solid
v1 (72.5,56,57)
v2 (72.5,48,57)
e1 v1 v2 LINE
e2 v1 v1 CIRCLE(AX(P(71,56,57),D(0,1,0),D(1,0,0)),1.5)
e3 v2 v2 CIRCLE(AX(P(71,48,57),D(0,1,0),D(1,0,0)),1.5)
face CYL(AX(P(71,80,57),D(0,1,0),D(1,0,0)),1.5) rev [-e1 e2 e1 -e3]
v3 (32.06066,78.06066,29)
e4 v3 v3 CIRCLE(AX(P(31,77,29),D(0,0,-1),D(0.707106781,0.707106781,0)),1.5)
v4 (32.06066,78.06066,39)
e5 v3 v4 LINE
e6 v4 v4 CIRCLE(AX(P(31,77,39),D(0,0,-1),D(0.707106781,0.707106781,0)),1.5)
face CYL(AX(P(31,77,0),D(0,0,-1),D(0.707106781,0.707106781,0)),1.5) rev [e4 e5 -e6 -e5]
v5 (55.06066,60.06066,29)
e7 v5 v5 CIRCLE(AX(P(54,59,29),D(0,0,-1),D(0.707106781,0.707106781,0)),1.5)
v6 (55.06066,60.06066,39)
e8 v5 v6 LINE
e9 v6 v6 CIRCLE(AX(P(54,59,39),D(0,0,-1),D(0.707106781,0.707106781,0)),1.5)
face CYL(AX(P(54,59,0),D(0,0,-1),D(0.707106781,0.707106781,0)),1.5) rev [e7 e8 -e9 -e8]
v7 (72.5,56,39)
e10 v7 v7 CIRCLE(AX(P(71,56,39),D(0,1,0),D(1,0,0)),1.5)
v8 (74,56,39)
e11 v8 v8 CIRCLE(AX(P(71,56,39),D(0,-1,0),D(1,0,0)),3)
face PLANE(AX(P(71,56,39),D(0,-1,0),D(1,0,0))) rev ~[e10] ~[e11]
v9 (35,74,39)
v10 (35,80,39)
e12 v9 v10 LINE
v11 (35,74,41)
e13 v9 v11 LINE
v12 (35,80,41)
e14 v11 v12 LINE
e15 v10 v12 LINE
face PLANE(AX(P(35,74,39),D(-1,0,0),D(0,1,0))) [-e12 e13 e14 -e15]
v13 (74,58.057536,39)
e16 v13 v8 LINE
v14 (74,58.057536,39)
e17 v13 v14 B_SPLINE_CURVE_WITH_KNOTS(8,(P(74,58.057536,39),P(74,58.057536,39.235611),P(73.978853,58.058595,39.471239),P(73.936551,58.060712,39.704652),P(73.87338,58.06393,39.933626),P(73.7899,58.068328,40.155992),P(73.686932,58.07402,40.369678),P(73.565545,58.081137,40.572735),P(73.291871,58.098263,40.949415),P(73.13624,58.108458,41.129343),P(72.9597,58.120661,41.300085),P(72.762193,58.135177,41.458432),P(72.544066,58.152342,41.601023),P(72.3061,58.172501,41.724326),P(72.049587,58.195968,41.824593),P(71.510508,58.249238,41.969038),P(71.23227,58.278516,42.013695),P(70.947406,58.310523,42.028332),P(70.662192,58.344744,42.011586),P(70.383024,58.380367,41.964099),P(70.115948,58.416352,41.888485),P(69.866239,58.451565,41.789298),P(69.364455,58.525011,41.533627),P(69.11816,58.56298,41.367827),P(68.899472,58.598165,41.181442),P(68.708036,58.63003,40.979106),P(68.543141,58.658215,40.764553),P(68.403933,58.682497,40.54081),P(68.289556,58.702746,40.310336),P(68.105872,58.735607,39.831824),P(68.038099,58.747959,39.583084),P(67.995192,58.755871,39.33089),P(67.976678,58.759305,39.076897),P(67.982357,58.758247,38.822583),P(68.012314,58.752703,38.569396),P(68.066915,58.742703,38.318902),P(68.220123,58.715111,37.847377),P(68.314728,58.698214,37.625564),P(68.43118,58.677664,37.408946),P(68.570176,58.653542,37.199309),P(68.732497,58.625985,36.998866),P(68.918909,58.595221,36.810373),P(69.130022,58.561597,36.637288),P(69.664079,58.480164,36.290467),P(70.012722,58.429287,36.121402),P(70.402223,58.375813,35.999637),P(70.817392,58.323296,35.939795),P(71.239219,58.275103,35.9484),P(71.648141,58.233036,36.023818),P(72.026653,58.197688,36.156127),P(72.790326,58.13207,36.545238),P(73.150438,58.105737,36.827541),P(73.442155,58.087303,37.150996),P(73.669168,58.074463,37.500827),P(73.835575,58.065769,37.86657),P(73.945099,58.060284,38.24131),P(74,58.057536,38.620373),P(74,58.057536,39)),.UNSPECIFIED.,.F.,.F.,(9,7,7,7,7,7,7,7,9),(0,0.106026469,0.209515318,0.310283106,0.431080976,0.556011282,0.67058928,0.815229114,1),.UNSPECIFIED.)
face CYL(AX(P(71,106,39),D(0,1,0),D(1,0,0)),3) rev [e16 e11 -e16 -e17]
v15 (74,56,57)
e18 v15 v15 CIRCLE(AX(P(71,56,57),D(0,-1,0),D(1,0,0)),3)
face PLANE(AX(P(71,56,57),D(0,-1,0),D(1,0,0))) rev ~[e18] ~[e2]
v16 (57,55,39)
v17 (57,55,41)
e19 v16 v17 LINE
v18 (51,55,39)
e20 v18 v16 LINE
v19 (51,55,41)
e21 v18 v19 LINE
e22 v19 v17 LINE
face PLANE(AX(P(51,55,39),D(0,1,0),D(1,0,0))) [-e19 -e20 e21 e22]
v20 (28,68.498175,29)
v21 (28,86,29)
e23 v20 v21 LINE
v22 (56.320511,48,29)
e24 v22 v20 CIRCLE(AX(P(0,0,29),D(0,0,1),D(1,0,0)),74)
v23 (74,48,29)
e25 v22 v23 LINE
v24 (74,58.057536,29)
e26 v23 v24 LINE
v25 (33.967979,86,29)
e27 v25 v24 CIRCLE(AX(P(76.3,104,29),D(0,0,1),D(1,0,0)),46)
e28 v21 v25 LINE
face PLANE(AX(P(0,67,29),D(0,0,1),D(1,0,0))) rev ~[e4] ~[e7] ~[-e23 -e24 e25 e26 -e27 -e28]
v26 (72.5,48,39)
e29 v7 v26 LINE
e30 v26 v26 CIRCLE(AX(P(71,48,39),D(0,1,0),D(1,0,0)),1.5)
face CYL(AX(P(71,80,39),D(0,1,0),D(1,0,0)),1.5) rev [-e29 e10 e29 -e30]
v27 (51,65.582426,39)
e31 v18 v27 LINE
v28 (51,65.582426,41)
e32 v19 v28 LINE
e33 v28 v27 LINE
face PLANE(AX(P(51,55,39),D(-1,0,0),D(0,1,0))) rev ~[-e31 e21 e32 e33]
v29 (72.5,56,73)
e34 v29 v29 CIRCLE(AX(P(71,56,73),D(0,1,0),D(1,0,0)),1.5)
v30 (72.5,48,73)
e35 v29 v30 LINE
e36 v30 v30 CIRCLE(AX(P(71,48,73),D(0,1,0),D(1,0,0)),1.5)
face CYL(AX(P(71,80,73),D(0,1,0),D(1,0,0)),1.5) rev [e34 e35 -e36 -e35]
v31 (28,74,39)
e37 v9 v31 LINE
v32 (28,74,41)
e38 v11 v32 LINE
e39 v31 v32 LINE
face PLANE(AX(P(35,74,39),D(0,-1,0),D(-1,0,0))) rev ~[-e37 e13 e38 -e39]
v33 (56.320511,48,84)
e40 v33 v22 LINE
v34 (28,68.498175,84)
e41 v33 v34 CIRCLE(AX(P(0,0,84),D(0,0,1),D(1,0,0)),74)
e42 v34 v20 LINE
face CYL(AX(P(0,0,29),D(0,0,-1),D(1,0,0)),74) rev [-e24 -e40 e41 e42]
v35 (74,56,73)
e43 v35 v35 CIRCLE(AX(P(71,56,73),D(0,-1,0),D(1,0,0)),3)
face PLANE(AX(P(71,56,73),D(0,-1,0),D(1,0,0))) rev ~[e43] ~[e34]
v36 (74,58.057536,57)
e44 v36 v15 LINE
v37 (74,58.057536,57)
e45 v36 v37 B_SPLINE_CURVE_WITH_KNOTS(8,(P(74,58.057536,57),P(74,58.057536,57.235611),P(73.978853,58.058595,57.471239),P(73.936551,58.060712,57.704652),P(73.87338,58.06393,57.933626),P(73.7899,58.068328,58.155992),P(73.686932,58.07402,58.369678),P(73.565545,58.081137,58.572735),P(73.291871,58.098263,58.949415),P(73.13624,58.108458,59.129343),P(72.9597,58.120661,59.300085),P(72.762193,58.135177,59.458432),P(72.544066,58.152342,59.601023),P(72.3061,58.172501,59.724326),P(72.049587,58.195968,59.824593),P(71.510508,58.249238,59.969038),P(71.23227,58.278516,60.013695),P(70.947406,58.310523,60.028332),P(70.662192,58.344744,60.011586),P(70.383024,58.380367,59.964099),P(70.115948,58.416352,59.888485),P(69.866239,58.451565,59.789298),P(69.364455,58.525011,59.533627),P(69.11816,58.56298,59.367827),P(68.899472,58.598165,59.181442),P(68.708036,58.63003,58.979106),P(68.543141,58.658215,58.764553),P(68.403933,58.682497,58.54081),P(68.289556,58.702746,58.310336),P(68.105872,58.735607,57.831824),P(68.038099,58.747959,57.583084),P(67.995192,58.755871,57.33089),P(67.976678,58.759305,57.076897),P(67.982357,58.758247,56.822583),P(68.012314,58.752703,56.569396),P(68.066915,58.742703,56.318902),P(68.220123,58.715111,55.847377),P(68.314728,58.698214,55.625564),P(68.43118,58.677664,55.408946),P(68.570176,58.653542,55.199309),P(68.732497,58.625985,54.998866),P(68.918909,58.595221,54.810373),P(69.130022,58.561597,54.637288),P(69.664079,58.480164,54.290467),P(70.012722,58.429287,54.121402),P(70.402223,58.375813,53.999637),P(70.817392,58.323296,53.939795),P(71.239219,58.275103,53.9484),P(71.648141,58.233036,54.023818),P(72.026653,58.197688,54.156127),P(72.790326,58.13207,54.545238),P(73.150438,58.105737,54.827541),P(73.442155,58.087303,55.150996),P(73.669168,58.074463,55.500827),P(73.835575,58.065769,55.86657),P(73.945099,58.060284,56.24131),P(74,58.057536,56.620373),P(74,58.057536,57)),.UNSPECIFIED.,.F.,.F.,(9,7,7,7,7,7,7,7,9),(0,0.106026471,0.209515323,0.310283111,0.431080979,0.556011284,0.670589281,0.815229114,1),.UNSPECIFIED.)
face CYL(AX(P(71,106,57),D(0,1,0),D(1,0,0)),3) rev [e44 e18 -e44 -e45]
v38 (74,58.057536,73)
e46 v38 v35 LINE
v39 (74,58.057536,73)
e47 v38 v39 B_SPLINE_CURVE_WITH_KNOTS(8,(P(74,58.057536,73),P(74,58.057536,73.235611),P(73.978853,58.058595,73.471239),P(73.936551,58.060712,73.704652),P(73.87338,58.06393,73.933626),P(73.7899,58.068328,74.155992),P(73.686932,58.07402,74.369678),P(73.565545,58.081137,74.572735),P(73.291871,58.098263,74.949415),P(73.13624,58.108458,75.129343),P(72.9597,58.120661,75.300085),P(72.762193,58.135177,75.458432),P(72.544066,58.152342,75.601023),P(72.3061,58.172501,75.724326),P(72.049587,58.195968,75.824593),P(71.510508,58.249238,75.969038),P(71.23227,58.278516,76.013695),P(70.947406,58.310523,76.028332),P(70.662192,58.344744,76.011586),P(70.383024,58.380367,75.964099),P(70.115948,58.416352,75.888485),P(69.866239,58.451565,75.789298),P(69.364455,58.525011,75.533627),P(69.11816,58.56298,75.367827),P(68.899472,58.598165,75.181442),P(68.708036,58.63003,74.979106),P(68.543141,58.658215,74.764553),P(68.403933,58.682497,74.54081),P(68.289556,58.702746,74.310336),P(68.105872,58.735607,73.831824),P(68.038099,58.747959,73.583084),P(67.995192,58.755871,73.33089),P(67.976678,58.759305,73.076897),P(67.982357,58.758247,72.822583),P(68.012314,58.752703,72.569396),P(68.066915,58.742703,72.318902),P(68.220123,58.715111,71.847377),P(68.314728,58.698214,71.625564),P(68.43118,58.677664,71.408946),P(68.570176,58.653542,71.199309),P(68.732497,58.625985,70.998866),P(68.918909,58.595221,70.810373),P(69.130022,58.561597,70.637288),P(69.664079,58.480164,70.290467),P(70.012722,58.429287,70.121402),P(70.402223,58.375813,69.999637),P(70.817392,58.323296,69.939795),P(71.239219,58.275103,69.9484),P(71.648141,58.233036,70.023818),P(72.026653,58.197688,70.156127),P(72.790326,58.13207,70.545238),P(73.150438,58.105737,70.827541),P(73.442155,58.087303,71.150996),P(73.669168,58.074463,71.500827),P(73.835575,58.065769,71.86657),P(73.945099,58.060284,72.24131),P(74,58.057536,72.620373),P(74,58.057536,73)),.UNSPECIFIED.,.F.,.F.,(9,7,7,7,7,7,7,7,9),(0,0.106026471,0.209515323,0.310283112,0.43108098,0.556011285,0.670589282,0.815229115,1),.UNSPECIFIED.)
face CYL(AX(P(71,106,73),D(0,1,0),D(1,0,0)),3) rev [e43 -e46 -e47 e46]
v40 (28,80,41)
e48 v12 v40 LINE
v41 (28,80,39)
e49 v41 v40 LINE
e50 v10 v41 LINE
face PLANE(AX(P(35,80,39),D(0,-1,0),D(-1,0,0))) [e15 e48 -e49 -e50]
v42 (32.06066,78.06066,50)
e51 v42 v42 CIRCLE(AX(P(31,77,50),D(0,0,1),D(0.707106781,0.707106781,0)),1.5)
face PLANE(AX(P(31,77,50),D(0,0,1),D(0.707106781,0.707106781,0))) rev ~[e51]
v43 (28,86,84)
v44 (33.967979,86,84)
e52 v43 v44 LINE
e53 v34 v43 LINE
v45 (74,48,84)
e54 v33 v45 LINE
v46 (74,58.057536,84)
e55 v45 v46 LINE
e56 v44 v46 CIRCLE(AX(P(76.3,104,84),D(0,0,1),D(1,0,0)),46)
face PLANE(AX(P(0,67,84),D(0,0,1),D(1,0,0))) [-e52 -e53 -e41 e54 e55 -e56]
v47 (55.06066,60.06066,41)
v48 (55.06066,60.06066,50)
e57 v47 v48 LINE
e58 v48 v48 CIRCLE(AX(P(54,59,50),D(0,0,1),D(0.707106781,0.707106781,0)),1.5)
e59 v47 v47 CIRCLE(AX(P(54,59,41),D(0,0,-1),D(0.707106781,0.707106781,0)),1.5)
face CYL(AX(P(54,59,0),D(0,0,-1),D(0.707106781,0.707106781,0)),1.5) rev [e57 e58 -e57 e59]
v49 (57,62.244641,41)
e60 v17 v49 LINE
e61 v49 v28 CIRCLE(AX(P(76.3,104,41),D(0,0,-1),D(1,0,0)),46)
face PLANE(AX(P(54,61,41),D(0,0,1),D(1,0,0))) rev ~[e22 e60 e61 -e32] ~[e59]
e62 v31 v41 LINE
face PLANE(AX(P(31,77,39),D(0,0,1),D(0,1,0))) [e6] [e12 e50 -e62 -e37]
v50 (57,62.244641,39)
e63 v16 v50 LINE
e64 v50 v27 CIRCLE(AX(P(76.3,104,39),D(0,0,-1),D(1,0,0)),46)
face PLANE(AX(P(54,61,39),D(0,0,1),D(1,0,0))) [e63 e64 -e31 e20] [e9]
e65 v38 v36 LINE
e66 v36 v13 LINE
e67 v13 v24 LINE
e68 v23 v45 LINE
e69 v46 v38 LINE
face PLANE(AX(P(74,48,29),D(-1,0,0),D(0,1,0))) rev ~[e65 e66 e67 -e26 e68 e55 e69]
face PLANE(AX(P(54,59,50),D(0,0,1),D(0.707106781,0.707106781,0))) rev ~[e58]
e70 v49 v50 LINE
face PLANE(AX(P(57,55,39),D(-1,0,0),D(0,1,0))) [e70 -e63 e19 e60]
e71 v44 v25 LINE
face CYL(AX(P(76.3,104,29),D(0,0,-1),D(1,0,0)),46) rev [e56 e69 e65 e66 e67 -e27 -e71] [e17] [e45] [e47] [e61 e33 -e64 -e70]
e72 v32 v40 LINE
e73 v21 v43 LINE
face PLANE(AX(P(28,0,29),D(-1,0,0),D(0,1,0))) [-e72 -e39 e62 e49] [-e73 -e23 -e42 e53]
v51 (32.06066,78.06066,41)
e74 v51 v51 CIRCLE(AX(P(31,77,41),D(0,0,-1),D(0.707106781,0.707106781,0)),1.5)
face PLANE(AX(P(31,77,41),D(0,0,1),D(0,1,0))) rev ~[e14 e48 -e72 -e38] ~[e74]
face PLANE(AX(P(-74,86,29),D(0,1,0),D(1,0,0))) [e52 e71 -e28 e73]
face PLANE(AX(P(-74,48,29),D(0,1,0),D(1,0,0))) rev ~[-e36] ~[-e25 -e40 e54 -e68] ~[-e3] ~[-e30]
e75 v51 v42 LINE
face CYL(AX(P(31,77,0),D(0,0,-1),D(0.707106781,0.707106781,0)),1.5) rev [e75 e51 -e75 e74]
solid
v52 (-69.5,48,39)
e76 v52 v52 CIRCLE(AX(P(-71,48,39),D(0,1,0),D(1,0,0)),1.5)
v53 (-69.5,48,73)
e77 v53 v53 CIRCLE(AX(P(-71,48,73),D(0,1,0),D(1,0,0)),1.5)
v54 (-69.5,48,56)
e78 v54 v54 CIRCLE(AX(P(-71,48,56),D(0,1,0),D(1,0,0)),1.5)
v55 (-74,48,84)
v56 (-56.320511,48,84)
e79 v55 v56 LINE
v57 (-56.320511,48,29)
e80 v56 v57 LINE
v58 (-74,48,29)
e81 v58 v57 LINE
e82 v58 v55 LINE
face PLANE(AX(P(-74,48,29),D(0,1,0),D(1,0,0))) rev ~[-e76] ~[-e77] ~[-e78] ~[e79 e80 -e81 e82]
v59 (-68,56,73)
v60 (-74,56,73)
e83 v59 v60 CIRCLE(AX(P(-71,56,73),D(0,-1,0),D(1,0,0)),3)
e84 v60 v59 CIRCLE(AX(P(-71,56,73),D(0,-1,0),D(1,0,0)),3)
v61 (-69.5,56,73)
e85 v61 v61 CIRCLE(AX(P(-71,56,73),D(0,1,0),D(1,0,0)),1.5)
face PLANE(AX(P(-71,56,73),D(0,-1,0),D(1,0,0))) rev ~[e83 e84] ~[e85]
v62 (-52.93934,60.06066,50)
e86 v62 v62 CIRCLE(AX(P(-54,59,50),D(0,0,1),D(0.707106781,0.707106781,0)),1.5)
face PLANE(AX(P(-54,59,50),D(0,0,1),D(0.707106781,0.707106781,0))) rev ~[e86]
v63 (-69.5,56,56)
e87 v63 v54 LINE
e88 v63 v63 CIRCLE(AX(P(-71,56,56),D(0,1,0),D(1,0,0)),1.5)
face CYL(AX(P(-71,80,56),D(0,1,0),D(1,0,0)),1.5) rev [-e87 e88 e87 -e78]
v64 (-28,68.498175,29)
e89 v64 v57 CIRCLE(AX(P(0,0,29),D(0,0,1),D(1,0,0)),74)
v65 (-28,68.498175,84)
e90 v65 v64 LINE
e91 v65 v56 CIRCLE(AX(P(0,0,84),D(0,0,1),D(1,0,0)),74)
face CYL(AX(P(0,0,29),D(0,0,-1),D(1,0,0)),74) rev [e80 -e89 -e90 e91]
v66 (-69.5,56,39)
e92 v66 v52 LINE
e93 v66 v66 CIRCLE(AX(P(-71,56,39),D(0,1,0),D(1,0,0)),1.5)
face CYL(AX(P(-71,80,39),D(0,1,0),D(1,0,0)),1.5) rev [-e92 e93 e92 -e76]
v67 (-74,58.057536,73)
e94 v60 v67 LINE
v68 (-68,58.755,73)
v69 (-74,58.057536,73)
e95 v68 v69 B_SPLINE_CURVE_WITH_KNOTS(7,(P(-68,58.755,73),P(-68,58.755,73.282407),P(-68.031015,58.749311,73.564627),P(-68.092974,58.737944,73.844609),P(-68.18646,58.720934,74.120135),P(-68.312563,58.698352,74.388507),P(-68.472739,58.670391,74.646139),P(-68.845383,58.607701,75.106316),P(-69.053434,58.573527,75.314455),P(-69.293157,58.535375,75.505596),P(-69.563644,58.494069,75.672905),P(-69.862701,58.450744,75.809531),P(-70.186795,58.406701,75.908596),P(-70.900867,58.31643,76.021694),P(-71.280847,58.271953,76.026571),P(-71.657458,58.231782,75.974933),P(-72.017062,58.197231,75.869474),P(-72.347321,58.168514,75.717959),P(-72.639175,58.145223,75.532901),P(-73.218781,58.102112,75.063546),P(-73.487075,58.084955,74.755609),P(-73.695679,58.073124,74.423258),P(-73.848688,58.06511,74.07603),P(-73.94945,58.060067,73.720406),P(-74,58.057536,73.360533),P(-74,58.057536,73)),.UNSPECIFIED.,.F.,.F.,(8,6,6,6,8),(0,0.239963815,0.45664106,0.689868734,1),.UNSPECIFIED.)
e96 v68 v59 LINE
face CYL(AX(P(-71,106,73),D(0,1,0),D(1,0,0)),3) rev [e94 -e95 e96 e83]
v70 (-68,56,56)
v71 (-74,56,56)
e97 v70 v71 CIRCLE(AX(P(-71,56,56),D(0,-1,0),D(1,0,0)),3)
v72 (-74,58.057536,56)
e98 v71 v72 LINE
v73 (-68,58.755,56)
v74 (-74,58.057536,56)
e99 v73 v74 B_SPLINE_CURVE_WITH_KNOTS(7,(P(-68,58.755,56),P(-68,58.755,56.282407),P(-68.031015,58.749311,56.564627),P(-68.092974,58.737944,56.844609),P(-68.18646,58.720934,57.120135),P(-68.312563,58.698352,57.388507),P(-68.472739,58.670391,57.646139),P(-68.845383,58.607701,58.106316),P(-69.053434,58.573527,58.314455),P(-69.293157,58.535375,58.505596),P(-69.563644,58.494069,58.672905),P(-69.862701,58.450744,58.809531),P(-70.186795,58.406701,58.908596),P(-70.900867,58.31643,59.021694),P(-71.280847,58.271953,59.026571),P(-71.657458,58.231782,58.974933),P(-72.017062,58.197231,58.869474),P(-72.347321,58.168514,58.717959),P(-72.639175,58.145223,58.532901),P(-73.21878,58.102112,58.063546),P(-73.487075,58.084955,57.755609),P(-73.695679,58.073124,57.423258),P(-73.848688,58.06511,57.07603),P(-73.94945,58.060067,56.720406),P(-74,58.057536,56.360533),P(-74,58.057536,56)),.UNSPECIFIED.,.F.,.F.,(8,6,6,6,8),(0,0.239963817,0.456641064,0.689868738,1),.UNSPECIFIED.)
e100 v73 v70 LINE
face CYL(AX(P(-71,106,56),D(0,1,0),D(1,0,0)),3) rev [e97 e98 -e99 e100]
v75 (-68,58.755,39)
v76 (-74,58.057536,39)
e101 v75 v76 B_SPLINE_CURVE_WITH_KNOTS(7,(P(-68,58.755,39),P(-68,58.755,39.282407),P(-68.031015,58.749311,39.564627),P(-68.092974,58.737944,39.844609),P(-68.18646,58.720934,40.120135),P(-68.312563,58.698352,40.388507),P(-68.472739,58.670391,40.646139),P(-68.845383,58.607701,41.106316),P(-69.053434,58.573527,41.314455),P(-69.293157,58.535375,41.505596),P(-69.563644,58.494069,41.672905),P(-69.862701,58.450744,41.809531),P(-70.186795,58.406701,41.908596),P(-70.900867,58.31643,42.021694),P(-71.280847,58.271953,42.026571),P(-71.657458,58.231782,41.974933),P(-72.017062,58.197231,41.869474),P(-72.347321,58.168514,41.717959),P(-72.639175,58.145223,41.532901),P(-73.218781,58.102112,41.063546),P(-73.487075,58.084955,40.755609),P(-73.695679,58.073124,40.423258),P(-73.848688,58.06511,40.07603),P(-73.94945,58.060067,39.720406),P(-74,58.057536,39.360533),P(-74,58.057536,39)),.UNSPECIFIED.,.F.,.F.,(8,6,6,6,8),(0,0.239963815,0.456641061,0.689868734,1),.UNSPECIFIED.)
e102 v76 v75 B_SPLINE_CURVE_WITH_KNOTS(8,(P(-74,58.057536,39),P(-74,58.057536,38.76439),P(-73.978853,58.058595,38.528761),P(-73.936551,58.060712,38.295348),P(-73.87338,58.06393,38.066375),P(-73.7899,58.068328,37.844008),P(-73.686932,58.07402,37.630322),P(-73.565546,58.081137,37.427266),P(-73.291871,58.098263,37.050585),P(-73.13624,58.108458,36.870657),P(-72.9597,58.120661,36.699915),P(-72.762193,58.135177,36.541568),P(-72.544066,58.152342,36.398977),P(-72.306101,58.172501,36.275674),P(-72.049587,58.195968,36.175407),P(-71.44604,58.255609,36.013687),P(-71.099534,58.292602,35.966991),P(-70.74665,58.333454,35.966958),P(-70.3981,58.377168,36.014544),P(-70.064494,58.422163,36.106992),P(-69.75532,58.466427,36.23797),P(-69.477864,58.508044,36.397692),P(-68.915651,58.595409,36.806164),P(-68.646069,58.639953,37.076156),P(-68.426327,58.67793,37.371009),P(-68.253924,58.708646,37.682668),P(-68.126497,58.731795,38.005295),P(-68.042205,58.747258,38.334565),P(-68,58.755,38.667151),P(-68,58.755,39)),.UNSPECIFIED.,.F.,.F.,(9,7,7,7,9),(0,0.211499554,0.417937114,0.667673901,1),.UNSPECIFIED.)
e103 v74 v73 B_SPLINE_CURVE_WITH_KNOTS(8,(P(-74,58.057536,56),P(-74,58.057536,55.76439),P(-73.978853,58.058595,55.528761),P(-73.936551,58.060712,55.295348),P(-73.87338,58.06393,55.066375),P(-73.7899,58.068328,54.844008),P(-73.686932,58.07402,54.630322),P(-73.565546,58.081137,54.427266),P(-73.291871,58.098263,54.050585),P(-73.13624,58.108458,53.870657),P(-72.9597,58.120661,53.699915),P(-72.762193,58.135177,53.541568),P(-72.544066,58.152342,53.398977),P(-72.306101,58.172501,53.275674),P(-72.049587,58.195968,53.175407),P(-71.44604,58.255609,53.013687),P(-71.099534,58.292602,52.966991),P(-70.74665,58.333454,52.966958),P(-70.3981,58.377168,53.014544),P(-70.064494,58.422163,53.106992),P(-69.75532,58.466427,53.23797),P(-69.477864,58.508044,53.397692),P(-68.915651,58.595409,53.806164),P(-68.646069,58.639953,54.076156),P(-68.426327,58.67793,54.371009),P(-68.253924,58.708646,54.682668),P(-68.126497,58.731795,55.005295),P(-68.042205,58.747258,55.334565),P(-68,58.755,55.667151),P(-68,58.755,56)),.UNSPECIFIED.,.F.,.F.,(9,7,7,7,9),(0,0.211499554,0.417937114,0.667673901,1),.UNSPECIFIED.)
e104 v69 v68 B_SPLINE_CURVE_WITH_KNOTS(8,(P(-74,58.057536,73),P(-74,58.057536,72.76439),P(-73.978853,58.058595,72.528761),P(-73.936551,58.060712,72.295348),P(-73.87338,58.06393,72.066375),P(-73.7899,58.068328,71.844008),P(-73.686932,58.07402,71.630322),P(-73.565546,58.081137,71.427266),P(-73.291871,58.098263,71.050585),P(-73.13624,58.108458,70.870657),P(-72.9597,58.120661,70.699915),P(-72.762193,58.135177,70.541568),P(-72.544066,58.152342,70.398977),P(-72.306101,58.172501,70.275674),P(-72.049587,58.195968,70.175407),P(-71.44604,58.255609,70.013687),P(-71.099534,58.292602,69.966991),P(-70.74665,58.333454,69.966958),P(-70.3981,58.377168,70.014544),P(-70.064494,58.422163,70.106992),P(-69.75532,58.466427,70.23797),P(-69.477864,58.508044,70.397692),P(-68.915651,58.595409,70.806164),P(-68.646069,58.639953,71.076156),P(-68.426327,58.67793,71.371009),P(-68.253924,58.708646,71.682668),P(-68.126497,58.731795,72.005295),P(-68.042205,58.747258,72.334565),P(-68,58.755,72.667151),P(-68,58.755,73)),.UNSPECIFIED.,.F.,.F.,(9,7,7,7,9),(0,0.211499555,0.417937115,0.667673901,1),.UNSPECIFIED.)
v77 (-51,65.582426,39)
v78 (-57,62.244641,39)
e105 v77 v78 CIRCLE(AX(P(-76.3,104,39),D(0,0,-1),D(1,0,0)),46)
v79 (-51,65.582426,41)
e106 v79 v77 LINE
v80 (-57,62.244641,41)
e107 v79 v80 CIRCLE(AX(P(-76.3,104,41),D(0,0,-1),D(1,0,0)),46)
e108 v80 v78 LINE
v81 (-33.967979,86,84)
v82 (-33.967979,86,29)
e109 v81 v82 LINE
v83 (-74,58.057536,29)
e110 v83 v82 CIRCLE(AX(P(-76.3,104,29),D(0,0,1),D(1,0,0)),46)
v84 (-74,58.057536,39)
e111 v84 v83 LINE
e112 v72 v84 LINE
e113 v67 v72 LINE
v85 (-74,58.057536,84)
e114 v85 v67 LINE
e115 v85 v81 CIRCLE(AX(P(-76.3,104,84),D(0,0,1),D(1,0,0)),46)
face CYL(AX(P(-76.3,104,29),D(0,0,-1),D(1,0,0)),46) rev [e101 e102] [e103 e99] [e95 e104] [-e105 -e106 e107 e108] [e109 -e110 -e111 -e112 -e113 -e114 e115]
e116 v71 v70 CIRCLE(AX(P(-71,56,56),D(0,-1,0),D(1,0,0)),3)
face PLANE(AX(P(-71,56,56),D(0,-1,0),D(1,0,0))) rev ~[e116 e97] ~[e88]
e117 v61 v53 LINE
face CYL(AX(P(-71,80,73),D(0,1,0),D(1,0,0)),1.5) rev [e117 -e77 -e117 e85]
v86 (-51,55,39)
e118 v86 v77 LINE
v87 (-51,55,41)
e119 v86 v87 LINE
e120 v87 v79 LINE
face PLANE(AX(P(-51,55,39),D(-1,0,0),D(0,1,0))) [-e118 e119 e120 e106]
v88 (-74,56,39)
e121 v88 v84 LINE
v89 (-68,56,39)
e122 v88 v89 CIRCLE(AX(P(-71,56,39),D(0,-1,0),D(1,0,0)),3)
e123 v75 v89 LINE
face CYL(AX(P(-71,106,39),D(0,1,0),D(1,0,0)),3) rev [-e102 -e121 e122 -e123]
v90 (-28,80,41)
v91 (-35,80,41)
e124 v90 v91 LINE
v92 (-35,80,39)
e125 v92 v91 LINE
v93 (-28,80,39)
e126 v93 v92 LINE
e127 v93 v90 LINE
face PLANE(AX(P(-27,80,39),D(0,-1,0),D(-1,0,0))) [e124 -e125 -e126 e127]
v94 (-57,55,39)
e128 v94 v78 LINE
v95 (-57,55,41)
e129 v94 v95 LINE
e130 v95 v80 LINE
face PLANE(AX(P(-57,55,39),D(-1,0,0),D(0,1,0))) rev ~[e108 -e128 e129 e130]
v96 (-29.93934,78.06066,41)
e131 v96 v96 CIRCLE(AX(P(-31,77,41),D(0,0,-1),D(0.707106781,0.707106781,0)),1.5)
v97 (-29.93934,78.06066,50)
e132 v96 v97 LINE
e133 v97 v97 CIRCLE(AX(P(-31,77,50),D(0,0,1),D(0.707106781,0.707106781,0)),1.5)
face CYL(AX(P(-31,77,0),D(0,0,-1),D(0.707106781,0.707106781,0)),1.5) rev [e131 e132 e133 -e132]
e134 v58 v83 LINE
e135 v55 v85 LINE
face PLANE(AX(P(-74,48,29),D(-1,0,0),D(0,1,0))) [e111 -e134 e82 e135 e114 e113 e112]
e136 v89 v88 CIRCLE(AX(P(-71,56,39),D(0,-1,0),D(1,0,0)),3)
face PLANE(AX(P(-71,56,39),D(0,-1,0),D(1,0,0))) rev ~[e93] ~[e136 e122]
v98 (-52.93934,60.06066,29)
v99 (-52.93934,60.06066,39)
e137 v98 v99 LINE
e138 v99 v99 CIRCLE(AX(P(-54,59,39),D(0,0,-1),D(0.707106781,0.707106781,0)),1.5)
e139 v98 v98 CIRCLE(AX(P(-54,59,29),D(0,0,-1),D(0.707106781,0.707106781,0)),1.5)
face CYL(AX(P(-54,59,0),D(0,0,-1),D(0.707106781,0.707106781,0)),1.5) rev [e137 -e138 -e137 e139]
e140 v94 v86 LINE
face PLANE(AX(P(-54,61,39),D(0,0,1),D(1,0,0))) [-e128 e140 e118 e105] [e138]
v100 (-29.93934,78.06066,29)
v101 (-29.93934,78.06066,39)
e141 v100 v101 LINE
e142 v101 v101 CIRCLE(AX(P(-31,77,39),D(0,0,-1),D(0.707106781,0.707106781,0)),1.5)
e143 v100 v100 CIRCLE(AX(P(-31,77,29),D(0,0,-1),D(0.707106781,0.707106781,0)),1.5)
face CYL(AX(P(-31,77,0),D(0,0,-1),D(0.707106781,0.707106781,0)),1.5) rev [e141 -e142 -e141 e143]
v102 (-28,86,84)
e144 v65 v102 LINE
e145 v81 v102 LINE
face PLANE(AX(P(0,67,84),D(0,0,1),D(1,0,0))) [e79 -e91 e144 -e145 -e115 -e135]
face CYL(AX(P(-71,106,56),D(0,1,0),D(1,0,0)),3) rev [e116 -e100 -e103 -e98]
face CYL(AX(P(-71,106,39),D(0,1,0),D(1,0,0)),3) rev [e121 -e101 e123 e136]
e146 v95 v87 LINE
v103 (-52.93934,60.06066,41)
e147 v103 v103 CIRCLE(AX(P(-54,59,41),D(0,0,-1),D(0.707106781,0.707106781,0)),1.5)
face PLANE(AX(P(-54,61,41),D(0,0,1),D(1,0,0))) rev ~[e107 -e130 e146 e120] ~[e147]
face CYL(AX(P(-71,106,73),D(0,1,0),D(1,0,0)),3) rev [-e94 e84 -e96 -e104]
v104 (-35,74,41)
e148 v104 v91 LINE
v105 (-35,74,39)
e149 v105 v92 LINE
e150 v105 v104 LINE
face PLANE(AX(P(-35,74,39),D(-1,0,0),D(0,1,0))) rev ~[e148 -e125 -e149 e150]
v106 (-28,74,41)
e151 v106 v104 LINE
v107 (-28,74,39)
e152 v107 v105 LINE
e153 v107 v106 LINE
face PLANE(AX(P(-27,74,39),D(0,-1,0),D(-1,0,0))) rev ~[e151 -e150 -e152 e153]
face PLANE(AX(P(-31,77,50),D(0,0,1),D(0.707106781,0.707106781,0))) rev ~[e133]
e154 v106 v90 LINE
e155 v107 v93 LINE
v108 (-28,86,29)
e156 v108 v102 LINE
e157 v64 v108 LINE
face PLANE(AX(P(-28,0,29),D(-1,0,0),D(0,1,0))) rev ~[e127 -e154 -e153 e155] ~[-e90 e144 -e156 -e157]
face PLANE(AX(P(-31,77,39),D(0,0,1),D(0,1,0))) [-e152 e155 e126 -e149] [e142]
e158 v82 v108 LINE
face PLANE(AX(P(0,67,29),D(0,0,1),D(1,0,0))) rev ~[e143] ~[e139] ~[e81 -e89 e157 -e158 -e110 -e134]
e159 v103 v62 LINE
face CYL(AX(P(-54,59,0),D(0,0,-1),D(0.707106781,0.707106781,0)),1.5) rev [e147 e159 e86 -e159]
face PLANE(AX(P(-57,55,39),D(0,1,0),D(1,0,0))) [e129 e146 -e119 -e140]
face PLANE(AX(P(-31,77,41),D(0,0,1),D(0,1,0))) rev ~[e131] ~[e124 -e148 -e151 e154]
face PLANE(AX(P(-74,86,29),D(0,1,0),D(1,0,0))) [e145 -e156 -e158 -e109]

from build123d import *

# Parameters (mm, degrees)
CYLINDER1890_R               = 1.5
CYLINDER1890_DEPTH           = 50
CYLINDER1890_PLACEMENT_ANGLE = 45
CYLINDER1889_R               = 1.5
CYLINDER1889_DEPTH           = 50
CYLINDER1889_PLACEMENT_ANGLE = 45
BOX799_W                     = 6
BOX799_H                     = 12
BOX799_DEPTH                 = 2
BOX798_W                     = 6
BOX798_H                     = 12
BOX798_DEPTH                 = 2
CYLINDER1795_R               = 1.5
CYLINDER1795_DEPTH           = 50
CYLINDER1795_PLACEMENT_ANGLE = 45
CYLINDER1794_R               = 1.5
CYLINDER1794_DEPTH           = 50
CYLINDER1794_PLACEMENT_ANGLE = 45
BOX711_W                     = 6
BOX711_H                     = 8
BOX711_DEPTH                 = 2
BOX729_W                     = 6
BOX729_H                     = 8
BOX729_DEPTH                 = 2
CYLINDER1785_R               = 3
CYLINDER1785_DEPTH           = 50
CYLINDER1781_R               = 3
CYLINDER1781_DEPTH           = 50
CYLINDER1783_R               = 3
CYLINDER1783_DEPTH           = 50
CYLINDER1790_R               = 3
CYLINDER1790_DEPTH           = 50
CYLINDER1791_R               = 3
CYLINDER1791_DEPTH           = 50
CYLINDER1782_R               = 3
CYLINDER1782_DEPTH           = 50
CYLINDER1786_R               = 1.5
CYLINDER1786_DEPTH           = 50
CYLINDER1780_R               = 1.5
CYLINDER1780_DEPTH           = 50
CYLINDER1787_R               = 1.5
CYLINDER1787_DEPTH           = 50
CYLINDER1788_R               = 1.5
CYLINDER1788_DEPTH           = 50
CYLINDER1789_R               = 1.5
CYLINDER1789_DEPTH           = 50
CYLINDER1784_R               = 1.5
CYLINDER1784_DEPTH           = 50
CYLINDER1779_R               = 74
CYLINDER1779_DEPTH           = 55
BOX728_W                     = 56
BOX728_H                     = 200
BOX728_DEPTH                 = 55
CYLINDER1778_R               = 46
CYLINDER1778_DEPTH           = 55
CYLINDER1777_R               = 46
CYLINDER1777_DEPTH           = 55
BOX727_W                     = 148
BOX727_H                     = 38
BOX727_DEPTH                 = 55


with BuildPart() as v_lec1890:
    # Cylinder1890 → Cylinder1890 (new body)
    with BuildSketch(Plane.XY):
        Circle(CYLINDER1890_R)
    extrude(amount=CYLINDER1890_DEPTH)


with BuildPart() as v_lec1890_1:
    # Cylinder1890 placement: moved
    add(v_lec1890.part.moved(Location((-54, 59, 0))).rotate(Axis((-54, 59, 0), (0, 0, 1)), CYLINDER1890_PLACEMENT_ANGLE))


with BuildPart() as compound951:
    # Cylinder1889 → Cylinder1889 (new body)
    with BuildSketch(Plane.XY):
        Circle(CYLINDER1889_R)
    extrude(amount=CYLINDER1889_DEPTH)


with BuildPart() as compound951_1:
    # Cylinder1889 placement: moved
    add(compound951.part.moved(Location((54, 59, 0))).rotate(Axis((54, 59, 0), (0, 0, 1)), CYLINDER1889_PLACEMENT_ANGLE))

    # Compound951: union Válec1890
    add(v_lec1890_1.part)


with BuildPart() as krychle799:
    # Box799 → Box799 (new body)
    with BuildSketch(Plane(origin=(51, 56, 29), x_dir=(1, 0, 0), z_dir=(0, 0, 1))):
        with Locations((3, 6)):
            Rectangle(BOX799_W, BOX799_H)
    extrude(amount=BOX799_DEPTH)


with BuildPart() as compound952:
    # Box798 → Box798 (new body)
    with BuildSketch(Plane(origin=(-57, 56, 29), x_dir=(1, 0, 0), z_dir=(0, 0, 1))):
        with Locations((3, 6)):
            Rectangle(BOX798_W, BOX798_H)
    extrude(amount=BOX798_DEPTH)

    # Compound952: union Krychle799
    add(krychle799.part)


with BuildPart() as compound952_1:
    # Compound952 placement: moved
    add(compound952.part.moved(Location((0, -1, 10))))


with BuildPart() as v_lec1795:
    # Cylinder1795 → Cylinder1795 (new body)
    with BuildSketch(Plane.XY):
        Circle(CYLINDER1795_R)
    extrude(amount=CYLINDER1795_DEPTH)


with BuildPart() as v_lec1795_1:
    # Cylinder1795 placement: moved
    add(v_lec1795.part.moved(Location((-31, 77, 0))).rotate(Axis((-31, 77, 0), (0, 0, 1)), CYLINDER1795_PLACEMENT_ANGLE))


with BuildPart() as compound902:
    # Cylinder1794 → Cylinder1794 (new body)
    with BuildSketch(Plane.XY):
        Circle(CYLINDER1794_R)
    extrude(amount=CYLINDER1794_DEPTH)


with BuildPart() as compound902_1:
    # Cylinder1794 placement: moved
    add(compound902.part.moved(Location((31, 77, 0))).rotate(Axis((31, 77, 0), (0, 0, 1)), CYLINDER1794_PLACEMENT_ANGLE))

    # Compound902: union Válec1795
    add(v_lec1795_1.part)


with BuildPart() as krychle711:
    # Box711 → Box711 (new body)
    with BuildSketch(Plane(origin=(-27, 74, 39), x_dir=(0, 1, 0), z_dir=(0, 0, 1))):
        with Locations((3, 4)):
            Rectangle(BOX711_W, BOX711_H)
    extrude(amount=BOX711_DEPTH)


with BuildPart() as compound901:
    # Box729 → Box729 (new body)
    with BuildSketch(Plane(origin=(35, 74, 39), x_dir=(0, 1, 0), z_dir=(0, 0, 1))):
        with Locations((3, 4)):
            Rectangle(BOX729_W, BOX729_H)
    extrude(amount=BOX729_DEPTH)

    # Compound901: union Krychle711
    add(krychle711.part)


with BuildPart() as v_lec1785:
    # Cylinder1785 → Cylinder1785 (new body)
    with BuildSketch(Plane(origin=(71, 106, 39), x_dir=(1, 0, 0), z_dir=(0, -1, 0))):
        Circle(CYLINDER1785_R)
    extrude(amount=CYLINDER1785_DEPTH)


with BuildPart() as v_lec1781:
    # Cylinder1781 → Cylinder1781 (new body)
    with BuildSketch(Plane(origin=(-71, 106, 73), x_dir=(1, 0, 0), z_dir=(0, -1, 0))):
        Circle(CYLINDER1781_R)
    extrude(amount=CYLINDER1781_DEPTH)


with BuildPart() as v_lec1783:
    # Cylinder1783 → Cylinder1783 (new body)
    with BuildSketch(Plane(origin=(71, 106, 73), x_dir=(1, 0, 0), z_dir=(0, -1, 0))):
        Circle(CYLINDER1783_R)
    extrude(amount=CYLINDER1783_DEPTH)


with BuildPart() as v_lec1790:
    # Cylinder1790 → Cylinder1790 (new body)
    with BuildSketch(Plane(origin=(71, 106, 57), x_dir=(1, 0, 0), z_dir=(0, -1, 0))):
        Circle(CYLINDER1790_R)
    extrude(amount=CYLINDER1790_DEPTH)


with BuildPart() as v_lec1791:
    # Cylinder1791 → Cylinder1791 (new body)
    with BuildSketch(Plane(origin=(-71, 106, 56), x_dir=(1, 0, 0), z_dir=(0, -1, 0))):
        Circle(CYLINDER1791_R)
    extrude(amount=CYLINDER1791_DEPTH)


with BuildPart() as compound898:
    # Cylinder1782 → Cylinder1782 (new body)
    with BuildSketch(Plane(origin=(-71, 106, 39), x_dir=(1, 0, 0), z_dir=(0, -1, 0))):
        Circle(CYLINDER1782_R)
    extrude(amount=CYLINDER1782_DEPTH)

    # Compound898: union Válec1785, Válec1781, Válec1783, Válec1790, Válec1791
    add(v_lec1785.part)
    add(v_lec1781.part)
    add(v_lec1783.part)
    add(v_lec1790.part)
    add(v_lec1791.part)


with BuildPart() as v_lec1786:
    # Cylinder1786 → Cylinder1786 (new body)
    with BuildSketch(Plane(origin=(71, 80, 39), x_dir=(1, 0, 0), z_dir=(0, -1, 0))):
        Circle(CYLINDER1786_R)
    extrude(amount=CYLINDER1786_DEPTH)


with BuildPart() as v_lec1780:
    # Cylinder1780 → Cylinder1780 (new body)
    with BuildSketch(Plane(origin=(-71, 80, 73), x_dir=(1, 0, 0), z_dir=(0, -1, 0))):
        Circle(CYLINDER1780_R)
    extrude(amount=CYLINDER1780_DEPTH)


with BuildPart() as v_lec1787:
    # Cylinder1787 → Cylinder1787 (new body)
    with BuildSketch(Plane(origin=(71, 80, 73), x_dir=(1, 0, 0), z_dir=(0, -1, 0))):
        Circle(CYLINDER1787_R)
    extrude(amount=CYLINDER1787_DEPTH)


with BuildPart() as v_lec1788:
    # Cylinder1788 → Cylinder1788 (new body)
    with BuildSketch(Plane(origin=(-71, 80, 56), x_dir=(1, 0, 0), z_dir=(0, -1, 0))):
        Circle(CYLINDER1788_R)
    extrude(amount=CYLINDER1788_DEPTH)


with BuildPart() as v_lec1789:
    # Cylinder1789 → Cylinder1789 (new body)
    with BuildSketch(Plane(origin=(71, 80, 57), x_dir=(1, 0, 0), z_dir=(0, -1, 0))):
        Circle(CYLINDER1789_R)
    extrude(amount=CYLINDER1789_DEPTH)


with BuildPart() as compound899:
    # Cylinder1784 → Cylinder1784 (new body)
    with BuildSketch(Plane(origin=(-71, 80, 39), x_dir=(1, 0, 0), z_dir=(0, -1, 0))):
        Circle(CYLINDER1784_R)
    extrude(amount=CYLINDER1784_DEPTH)

    # Compound899: union Válec1786, Válec1780, Válec1787, Válec1788, Válec1789
    add(v_lec1786.part)
    add(v_lec1780.part)
    add(v_lec1787.part)
    add(v_lec1788.part)
    add(v_lec1789.part)


with BuildPart() as v_lec1779:
    # Cylinder1779 → Cylinder1779 (new body)
    with BuildSketch(Plane.XY.offset(29)):
        Circle(CYLINDER1779_R)
    extrude(amount=CYLINDER1779_DEPTH)


with BuildPart() as krychle728:
    # Box728 → Box728 (new body)
    with BuildSketch(Plane(origin=(-28, 0, 29), x_dir=(1, 0, 0), z_dir=(0, 0, 1))):
        with Locations((28, 100)):
            Rectangle(BOX728_W, BOX728_H)
    extrude(amount=BOX728_DEPTH)


with BuildPart() as v_lec1778:
    # Cylinder1778 → Cylinder1778 (new body)
    with BuildSketch(Plane(origin=(76.3, 104, 29), x_dir=(1, 0, 0), z_dir=(0, 0, 1))):
        Circle(CYLINDER1778_R)
    extrude(amount=CYLINDER1778_DEPTH)


with BuildPart() as v_lec1777:
    # Cylinder1777 → Cylinder1777 (new body)
    with BuildSketch(Plane(origin=(-76.3, 104, 29), x_dir=(1, 0, 0), z_dir=(0, 0, 1))):
        Circle(CYLINDER1777_R)
    extrude(amount=CYLINDER1777_DEPTH)


with BuildPart() as cut600:
    # Box727 → Box727 (new body)
    with BuildSketch(Plane(origin=(-74, 48, 29), x_dir=(1, 0, 0), z_dir=(0, 0, 1))):
        with Locations((74, 19)):
            Rectangle(BOX727_W, BOX727_H)
    extrude(amount=BOX727_DEPTH)

    # Cut536: cut Válec1777
    add(v_lec1777.part, mode=Mode.SUBTRACT)

    # Cut531: cut Válec1778
    add(v_lec1778.part, mode=Mode.SUBTRACT)

    # Cut534: cut Krychle728
    add(krychle728.part, mode=Mode.SUBTRACT)

    # Cut535: cut Válec1779
    add(v_lec1779.part, mode=Mode.SUBTRACT)

    # Cut532: cut Compound899
    add(compound899.part, mode=Mode.SUBTRACT)

    # Cut533: cut Compound898
    add(compound898.part, mode=Mode.SUBTRACT)

    # Cut538: cut Compound901
    add(compound901.part, mode=Mode.SUBTRACT)

    # Cut539: cut Compound902
    add(compound902_1.part, mode=Mode.SUBTRACT)

    # Cut599: cut Compound952
    add(compound952_1.part, mode=Mode.SUBTRACT)

    # Cut600: cut Compound951
    add(compound951_1.part, mode=Mode.SUBTRACT)


solid = cut600.part
